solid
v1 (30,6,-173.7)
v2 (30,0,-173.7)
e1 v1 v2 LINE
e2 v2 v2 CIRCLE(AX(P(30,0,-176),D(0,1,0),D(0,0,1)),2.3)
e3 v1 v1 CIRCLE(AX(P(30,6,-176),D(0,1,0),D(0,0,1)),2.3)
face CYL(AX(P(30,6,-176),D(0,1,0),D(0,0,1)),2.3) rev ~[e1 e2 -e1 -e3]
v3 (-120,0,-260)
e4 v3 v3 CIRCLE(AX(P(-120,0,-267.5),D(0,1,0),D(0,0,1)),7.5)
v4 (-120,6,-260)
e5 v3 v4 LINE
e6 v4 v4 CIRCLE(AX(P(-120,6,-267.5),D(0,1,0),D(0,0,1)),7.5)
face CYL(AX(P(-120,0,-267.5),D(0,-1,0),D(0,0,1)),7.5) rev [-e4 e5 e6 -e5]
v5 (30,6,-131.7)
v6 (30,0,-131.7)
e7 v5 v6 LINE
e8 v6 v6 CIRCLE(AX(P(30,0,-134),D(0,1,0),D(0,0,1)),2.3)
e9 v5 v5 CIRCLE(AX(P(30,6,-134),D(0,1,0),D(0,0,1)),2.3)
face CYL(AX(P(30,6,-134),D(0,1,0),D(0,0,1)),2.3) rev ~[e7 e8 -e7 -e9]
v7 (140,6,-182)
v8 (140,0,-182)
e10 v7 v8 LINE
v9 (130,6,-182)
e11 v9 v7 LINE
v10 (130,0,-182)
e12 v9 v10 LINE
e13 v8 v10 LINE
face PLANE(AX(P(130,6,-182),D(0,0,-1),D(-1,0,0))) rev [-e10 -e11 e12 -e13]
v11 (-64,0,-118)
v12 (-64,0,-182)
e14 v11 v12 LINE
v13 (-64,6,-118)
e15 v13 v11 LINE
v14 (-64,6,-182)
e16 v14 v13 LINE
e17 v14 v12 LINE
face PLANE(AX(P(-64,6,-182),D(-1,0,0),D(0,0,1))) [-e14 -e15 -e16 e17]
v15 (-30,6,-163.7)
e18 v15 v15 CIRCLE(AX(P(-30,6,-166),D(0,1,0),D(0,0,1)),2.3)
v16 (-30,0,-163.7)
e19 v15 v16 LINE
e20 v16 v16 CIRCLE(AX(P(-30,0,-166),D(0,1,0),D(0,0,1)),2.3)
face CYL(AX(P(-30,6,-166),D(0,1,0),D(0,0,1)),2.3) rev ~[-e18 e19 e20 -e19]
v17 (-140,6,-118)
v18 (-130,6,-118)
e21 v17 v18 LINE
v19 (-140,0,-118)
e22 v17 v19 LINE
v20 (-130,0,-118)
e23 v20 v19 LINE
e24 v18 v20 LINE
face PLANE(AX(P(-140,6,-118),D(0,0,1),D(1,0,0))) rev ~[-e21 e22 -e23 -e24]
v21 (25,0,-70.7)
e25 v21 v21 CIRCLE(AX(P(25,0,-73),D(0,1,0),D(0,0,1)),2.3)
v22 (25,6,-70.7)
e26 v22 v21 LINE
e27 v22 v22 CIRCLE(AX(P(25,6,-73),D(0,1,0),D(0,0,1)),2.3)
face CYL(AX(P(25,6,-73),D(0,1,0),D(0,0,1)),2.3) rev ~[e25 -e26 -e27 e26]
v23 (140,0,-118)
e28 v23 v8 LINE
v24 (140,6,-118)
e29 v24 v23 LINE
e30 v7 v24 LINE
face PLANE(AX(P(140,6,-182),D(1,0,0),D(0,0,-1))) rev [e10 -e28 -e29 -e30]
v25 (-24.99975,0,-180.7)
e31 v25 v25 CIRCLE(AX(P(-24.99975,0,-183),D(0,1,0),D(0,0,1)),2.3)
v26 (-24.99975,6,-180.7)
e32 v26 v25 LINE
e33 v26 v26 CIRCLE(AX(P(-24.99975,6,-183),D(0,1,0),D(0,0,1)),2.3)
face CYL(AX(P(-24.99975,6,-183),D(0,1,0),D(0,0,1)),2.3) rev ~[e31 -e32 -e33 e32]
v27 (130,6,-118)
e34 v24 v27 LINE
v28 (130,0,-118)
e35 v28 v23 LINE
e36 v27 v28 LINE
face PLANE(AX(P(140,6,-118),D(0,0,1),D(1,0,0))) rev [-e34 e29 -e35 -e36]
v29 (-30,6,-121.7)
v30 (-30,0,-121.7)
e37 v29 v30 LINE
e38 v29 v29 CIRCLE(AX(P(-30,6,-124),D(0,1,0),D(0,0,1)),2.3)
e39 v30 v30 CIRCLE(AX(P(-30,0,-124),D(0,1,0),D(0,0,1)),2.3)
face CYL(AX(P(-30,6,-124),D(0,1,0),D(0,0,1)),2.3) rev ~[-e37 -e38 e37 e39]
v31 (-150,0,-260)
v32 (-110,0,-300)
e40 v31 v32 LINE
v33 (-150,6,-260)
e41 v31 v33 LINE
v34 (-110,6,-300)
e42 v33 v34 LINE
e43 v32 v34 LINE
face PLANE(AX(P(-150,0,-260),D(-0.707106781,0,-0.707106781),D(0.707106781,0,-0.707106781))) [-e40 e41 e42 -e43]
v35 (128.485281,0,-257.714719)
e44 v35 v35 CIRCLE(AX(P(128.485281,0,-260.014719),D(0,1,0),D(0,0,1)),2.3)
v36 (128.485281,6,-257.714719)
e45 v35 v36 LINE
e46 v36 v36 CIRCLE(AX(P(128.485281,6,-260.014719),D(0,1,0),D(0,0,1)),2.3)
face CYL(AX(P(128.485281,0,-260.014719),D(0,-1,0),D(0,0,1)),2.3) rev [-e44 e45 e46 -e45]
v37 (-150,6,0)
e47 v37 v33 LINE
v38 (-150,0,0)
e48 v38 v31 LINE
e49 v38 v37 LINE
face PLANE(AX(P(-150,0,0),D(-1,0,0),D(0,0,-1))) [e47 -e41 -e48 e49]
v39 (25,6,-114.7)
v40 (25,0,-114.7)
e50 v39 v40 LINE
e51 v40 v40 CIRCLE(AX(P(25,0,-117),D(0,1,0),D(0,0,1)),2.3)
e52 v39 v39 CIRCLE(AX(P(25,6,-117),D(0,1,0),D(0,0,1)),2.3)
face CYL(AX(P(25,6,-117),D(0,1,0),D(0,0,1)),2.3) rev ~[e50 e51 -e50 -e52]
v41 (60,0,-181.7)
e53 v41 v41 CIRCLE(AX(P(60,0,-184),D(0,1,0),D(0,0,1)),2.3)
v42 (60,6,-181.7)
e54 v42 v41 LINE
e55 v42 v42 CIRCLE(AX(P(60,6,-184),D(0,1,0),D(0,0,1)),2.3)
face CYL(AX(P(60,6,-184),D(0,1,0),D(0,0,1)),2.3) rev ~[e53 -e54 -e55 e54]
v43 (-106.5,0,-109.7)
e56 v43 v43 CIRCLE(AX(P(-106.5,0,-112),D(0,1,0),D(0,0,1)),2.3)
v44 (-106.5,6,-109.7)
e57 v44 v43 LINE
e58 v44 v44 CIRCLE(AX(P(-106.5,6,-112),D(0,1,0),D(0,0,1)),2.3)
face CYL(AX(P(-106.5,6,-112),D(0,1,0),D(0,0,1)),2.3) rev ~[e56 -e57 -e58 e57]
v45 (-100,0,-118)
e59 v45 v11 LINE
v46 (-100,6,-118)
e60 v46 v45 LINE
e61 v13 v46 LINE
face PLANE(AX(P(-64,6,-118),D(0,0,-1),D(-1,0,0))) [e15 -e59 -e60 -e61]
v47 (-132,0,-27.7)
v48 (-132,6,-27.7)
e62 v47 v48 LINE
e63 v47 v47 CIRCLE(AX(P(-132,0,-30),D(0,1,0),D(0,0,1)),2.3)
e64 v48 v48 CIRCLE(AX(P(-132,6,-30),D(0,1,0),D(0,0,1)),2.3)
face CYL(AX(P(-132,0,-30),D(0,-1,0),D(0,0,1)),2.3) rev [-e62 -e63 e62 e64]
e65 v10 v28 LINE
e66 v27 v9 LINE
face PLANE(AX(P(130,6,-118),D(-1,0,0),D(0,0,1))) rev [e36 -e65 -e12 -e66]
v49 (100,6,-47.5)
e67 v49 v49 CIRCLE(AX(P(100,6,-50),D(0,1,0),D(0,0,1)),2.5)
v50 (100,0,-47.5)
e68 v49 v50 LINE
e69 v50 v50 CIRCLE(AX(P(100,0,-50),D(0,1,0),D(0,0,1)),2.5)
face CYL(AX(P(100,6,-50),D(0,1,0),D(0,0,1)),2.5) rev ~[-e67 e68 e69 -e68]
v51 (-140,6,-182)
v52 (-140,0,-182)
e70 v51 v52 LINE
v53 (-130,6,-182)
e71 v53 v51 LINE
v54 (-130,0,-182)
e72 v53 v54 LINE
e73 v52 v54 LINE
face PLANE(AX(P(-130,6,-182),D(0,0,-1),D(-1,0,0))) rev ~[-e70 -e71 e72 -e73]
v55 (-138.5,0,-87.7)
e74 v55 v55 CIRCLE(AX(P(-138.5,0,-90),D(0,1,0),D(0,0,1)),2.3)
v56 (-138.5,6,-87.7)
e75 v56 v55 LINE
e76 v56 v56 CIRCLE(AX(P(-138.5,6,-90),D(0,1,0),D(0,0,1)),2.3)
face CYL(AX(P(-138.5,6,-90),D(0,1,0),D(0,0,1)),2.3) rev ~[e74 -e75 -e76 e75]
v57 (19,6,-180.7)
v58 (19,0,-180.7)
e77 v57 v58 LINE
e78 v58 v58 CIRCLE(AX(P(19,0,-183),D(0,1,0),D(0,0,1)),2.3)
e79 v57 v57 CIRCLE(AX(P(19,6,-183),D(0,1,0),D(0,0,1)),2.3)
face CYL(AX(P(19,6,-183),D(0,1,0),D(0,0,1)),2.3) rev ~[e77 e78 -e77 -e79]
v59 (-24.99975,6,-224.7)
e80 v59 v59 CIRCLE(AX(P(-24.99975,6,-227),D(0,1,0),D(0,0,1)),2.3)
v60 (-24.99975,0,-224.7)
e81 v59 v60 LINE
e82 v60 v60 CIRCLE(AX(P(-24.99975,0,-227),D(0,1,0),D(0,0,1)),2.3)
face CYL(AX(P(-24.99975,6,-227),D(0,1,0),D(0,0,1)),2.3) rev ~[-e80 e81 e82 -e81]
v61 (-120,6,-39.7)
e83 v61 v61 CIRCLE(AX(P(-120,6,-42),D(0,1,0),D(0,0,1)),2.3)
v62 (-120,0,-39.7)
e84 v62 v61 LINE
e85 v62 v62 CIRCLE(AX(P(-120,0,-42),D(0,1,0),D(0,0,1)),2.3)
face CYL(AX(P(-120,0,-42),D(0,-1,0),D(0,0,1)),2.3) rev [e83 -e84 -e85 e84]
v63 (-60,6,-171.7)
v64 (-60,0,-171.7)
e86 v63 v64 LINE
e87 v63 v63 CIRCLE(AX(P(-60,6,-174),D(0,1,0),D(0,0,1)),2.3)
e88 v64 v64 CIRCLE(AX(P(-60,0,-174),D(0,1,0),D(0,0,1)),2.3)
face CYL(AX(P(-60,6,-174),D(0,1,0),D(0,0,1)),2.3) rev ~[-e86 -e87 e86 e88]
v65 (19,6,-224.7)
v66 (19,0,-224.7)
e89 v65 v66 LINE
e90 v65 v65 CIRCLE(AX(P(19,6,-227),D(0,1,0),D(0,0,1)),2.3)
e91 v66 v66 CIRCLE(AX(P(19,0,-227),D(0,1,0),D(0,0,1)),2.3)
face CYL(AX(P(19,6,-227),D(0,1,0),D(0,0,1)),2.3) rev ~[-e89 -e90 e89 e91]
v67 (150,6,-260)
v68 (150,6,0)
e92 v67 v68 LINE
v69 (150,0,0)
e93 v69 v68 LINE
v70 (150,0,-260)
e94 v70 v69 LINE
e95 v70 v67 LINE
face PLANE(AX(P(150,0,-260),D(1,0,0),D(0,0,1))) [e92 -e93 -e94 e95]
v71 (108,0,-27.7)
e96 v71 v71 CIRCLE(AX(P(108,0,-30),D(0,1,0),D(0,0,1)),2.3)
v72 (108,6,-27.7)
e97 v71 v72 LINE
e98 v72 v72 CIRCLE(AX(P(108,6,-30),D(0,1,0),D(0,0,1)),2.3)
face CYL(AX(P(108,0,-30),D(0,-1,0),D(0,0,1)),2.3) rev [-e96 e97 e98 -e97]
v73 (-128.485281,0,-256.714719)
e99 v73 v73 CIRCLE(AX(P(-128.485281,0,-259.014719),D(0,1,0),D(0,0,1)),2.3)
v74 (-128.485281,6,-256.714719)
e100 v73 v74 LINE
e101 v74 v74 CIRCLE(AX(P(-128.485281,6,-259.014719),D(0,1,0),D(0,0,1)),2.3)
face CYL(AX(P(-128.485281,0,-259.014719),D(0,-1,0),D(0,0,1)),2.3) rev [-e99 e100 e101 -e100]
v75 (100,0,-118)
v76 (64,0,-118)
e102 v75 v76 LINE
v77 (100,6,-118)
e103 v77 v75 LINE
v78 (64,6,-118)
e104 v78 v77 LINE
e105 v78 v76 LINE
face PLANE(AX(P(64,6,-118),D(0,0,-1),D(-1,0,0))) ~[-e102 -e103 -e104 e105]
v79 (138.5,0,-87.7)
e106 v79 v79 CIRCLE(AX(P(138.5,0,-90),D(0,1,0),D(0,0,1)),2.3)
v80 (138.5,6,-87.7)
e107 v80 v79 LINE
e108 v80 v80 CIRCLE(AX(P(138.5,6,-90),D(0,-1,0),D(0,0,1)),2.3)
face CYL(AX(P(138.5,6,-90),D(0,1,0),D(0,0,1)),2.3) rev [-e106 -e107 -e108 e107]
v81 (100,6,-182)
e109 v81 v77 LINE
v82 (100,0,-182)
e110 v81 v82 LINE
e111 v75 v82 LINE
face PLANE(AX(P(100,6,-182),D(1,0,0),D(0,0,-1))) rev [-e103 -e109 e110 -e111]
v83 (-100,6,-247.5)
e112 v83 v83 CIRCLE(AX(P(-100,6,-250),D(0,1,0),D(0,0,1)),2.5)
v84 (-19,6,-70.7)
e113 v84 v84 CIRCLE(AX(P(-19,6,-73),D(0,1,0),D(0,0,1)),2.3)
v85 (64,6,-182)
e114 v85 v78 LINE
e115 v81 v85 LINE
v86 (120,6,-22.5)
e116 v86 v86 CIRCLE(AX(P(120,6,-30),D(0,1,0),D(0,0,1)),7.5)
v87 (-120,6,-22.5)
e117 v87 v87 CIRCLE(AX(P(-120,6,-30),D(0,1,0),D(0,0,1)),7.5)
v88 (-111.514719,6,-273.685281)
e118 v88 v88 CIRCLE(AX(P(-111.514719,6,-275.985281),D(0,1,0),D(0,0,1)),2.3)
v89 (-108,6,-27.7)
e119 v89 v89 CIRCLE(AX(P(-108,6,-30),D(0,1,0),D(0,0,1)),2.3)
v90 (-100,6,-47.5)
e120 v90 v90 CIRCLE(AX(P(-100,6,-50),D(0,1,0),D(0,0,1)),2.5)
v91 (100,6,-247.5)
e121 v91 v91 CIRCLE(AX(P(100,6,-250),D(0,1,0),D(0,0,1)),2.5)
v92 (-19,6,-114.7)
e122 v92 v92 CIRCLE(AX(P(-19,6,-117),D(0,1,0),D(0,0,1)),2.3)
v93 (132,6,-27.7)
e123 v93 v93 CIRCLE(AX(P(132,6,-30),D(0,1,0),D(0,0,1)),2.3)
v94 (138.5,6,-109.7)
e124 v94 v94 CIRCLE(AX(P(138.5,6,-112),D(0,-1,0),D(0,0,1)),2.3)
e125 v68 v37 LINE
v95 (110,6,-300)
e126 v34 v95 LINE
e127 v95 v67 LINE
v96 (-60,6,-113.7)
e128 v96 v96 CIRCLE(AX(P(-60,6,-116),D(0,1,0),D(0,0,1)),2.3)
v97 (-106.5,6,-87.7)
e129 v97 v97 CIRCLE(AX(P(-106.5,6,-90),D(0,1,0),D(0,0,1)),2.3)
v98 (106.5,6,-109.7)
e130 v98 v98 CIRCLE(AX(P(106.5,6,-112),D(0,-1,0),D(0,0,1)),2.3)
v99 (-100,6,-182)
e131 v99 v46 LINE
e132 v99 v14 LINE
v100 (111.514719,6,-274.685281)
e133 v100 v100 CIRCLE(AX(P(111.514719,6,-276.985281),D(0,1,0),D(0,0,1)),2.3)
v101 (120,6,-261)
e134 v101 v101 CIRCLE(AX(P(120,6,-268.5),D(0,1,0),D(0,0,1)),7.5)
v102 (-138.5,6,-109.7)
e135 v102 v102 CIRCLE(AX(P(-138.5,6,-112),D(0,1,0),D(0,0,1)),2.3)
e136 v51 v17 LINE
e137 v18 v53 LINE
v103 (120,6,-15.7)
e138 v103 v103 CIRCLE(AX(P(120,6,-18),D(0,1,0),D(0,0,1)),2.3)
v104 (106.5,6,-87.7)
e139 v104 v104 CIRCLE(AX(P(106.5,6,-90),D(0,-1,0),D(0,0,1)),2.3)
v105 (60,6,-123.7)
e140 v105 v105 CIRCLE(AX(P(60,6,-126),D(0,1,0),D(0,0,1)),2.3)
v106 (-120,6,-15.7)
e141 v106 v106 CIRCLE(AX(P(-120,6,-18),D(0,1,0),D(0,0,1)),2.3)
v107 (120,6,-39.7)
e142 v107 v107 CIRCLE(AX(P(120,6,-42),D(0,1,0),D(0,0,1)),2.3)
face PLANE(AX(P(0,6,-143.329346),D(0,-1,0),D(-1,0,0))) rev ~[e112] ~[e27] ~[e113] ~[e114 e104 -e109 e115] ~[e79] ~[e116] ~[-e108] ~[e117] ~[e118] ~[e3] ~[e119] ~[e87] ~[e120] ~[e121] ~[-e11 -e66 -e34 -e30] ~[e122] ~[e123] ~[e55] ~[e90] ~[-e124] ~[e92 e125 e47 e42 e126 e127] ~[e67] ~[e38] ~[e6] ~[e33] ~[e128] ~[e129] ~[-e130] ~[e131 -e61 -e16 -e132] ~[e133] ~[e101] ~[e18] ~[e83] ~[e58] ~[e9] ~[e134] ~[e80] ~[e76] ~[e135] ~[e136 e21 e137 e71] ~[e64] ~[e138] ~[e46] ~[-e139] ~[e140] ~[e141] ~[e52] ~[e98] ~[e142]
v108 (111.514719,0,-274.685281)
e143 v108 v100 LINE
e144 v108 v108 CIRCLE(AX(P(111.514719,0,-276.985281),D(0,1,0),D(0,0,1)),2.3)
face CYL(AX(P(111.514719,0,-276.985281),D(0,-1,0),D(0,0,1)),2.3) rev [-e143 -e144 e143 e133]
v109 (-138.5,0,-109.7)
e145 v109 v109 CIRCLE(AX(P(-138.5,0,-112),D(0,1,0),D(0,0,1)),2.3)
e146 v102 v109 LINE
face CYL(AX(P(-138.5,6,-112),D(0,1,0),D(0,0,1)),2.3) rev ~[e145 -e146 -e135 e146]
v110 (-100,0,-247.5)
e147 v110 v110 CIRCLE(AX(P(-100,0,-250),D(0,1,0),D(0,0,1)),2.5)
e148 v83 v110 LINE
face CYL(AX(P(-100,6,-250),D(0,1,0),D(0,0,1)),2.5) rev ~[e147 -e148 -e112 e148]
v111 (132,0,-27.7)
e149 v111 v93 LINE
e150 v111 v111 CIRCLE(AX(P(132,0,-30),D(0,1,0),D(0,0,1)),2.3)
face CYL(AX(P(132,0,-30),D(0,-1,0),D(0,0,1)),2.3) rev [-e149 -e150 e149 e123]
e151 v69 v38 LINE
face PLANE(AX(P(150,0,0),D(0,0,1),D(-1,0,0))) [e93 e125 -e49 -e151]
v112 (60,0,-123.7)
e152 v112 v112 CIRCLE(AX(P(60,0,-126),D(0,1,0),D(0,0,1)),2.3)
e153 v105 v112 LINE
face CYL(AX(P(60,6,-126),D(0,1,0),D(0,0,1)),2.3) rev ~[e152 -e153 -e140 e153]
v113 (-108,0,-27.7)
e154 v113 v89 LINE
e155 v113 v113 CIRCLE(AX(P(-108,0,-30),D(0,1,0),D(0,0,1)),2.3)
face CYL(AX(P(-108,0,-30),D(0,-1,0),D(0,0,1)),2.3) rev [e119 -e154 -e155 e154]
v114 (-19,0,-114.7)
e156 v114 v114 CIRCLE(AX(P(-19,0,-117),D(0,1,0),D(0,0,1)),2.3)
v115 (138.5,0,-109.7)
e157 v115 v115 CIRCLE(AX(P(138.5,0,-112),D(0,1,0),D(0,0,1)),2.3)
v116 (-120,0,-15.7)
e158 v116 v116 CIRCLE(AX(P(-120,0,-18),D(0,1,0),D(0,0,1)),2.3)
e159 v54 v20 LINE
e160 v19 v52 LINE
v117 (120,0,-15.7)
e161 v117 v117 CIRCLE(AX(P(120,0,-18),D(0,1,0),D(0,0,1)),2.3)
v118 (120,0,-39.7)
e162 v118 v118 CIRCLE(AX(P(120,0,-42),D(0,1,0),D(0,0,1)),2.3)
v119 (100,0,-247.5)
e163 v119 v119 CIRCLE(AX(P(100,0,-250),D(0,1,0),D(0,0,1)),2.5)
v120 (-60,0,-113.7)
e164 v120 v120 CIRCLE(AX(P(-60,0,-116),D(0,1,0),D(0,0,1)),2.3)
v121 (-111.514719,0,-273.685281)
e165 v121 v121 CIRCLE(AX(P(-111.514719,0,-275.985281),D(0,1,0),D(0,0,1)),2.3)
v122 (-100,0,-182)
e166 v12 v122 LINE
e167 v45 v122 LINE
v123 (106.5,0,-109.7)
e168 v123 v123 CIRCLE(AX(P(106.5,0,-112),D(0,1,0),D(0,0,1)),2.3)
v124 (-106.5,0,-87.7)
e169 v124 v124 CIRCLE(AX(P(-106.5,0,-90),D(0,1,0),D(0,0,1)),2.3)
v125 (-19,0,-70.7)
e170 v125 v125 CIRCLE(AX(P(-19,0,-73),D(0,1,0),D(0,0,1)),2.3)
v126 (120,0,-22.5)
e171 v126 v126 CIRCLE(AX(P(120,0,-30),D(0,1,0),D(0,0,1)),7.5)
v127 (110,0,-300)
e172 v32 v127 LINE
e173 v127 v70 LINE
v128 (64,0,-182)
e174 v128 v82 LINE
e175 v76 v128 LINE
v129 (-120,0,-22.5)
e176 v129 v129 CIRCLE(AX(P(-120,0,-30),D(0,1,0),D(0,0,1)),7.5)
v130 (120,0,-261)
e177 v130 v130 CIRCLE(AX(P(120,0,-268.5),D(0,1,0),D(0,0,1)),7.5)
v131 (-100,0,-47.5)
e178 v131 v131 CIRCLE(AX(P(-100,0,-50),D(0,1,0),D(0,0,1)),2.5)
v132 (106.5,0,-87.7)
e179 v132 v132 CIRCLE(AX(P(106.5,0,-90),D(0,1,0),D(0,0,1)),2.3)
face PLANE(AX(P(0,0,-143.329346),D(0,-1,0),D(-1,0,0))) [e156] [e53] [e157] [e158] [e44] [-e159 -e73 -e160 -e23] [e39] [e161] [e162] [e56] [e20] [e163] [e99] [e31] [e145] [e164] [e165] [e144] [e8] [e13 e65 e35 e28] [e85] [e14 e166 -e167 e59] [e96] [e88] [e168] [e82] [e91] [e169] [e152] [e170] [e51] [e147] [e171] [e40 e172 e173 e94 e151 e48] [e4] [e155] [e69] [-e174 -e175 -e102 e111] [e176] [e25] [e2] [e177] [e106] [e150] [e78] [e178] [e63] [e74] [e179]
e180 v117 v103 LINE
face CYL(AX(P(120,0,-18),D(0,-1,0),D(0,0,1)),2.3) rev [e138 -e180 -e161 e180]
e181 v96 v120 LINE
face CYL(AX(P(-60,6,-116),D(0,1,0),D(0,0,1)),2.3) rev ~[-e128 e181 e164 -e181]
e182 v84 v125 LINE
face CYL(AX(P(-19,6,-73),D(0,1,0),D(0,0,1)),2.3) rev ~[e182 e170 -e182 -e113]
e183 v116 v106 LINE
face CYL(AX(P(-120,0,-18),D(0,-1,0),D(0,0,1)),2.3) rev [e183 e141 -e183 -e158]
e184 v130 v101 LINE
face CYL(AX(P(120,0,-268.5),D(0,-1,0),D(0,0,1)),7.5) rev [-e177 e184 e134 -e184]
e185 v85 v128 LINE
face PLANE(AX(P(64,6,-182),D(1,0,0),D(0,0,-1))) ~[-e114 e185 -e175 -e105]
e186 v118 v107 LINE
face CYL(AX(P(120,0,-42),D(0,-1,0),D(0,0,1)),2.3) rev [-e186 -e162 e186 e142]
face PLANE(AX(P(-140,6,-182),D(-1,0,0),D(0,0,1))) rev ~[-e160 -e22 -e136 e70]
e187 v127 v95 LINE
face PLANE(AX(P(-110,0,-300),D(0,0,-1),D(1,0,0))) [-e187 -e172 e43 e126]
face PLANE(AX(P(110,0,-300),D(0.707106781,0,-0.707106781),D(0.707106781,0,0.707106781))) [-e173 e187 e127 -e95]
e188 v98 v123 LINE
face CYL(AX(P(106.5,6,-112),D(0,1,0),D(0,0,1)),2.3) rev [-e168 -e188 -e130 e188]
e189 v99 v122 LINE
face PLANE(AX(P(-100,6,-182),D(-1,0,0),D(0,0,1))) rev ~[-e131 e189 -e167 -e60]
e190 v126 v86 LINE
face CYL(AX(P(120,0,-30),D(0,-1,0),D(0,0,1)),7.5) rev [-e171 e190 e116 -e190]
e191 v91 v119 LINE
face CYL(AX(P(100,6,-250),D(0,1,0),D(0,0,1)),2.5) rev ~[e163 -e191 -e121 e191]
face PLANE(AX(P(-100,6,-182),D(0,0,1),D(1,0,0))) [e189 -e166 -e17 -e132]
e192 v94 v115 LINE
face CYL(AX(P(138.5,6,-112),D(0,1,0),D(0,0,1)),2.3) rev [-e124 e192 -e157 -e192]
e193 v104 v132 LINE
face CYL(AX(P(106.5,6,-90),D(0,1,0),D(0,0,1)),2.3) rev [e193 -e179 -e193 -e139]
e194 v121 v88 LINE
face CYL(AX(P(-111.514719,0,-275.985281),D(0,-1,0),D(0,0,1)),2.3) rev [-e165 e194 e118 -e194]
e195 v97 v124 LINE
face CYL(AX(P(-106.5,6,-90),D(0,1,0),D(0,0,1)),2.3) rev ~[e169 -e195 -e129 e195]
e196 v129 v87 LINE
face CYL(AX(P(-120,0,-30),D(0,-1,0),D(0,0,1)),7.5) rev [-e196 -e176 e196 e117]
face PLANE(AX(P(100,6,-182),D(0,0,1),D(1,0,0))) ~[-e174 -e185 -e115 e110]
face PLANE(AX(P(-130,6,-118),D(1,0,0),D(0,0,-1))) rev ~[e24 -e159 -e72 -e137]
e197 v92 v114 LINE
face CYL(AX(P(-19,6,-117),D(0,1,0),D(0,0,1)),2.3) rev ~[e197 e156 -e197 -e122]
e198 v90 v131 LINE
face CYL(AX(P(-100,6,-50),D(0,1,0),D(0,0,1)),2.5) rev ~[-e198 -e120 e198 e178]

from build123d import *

# Parameters (mm, degrees)
ESQUISSE1_R              = 7.5
ESQUISSE1_R_2            = 2.3
BOSS_EXTRU_1_DEPTH       = 6
ENL_V_MAT_EXTRU_9_DEPTH  = 10.5
ESQUISSE6_R              = 2.3
ENL_V_MAT_EXTRU_10_DEPTH = 50
ENL_V_MAT_EXTRU_11_DEPTH = 50
ESQUISSE9_R              = 2.5
ENL_V_MAT_EXTRU_12_DEPTH = 35
ESQUISSE3_R              = 2.3
ENL_V_MAT_EXTRU_13_DEPTH = 35
ESQUISSE10_R             = 2.3
ENL_V_MAT_EXTRU_14_DEPTH = 10


with BuildPart() as part:
    # Esquisse1 → Boss.-Extru.1 (new body)
    with BuildSketch(Plane(origin=(0, 0, 0), x_dir=(1, 0, 0), z_dir=(0, 1, 0))):
        Polygon((-150, 0), (-150, 260), (-110, 300), (110, 300), (150, 260), (150, 0), align=None)
        with Locations((-120, 30)):
            Circle(ESQUISSE1_R, mode=Mode.SUBTRACT)
        with Locations((-120, 267.5)):
            Circle(ESQUISSE1_R, mode=Mode.SUBTRACT)
        with Locations((120, 268.5)):
            Circle(ESQUISSE1_R, mode=Mode.SUBTRACT)
        with Locations((-111.514718626, 275.985281374)):
            Circle(ESQUISSE1_R_2, mode=Mode.SUBTRACT)
        with Locations((-128.485281374, 259.014718626)):
            Circle(ESQUISSE1_R_2, mode=Mode.SUBTRACT)
        with Locations((111.514718626, 276.985281374)):
            Circle(ESQUISSE1_R_2, mode=Mode.SUBTRACT)
        with Locations((128.485281374, 260.014718626)):
            Circle(ESQUISSE1_R_2, mode=Mode.SUBTRACT)
        with Locations((120, 30)):
            Circle(ESQUISSE1_R, mode=Mode.SUBTRACT)
        with Locations((120, 42)):
            Circle(ESQUISSE1_R_2, mode=Mode.SUBTRACT)
        with Locations((-120, 42)):
            Circle(ESQUISSE1_R_2, mode=Mode.SUBTRACT)
        with Locations((-120, 18)):
            Circle(ESQUISSE1_R_2, mode=Mode.SUBTRACT)
        with Locations((-132, 30)):
            Circle(ESQUISSE1_R_2, mode=Mode.SUBTRACT)
        with Locations((-108, 30)):
            Circle(ESQUISSE1_R_2, mode=Mode.SUBTRACT)
        with Locations((108, 30)):
            Circle(ESQUISSE1_R_2, mode=Mode.SUBTRACT)
        with Locations((132, 30)):
            Circle(ESQUISSE1_R_2, mode=Mode.SUBTRACT)
        with Locations((120, 18)):
            Circle(ESQUISSE1_R_2, mode=Mode.SUBTRACT)
    extrude(amount=BOSS_EXTRU_1_DEPTH)

    # Esquisse7 → Enlèv. mat.-Extru.9 (cut)
    with BuildSketch(Plane(origin=(0, 6, 0), x_dir=(1, 0, 0), z_dir=(0, 1, 0))):
        Polygon((-130, 150), (-130, 182), (-140, 182), (-140, 118), (-130, 118), align=None)
    enl_v_mat_extru_9 = extrude(amount=-ENL_V_MAT_EXTRU_9_DEPTH, mode=Mode.SUBTRACT)

    # Esquisse6 → Enlèv. mat.-Extru.10 (cut)
    with BuildSketch(Plane(origin=(0, 6, 0), x_dir=(1, 0, 0), z_dir=(0, 1, 0))):
        with Locations((-138.5, 90)):
            Circle(ESQUISSE6_R)
        with Locations((-138.5, 112)):
            Circle(ESQUISSE6_R)
        with Locations((-106.5, 112)):
            Circle(ESQUISSE6_R)
        with Locations((-106.5, 90)):
            Circle(ESQUISSE6_R)
    enl_v_mat_extru_10 = extrude(amount=-ENL_V_MAT_EXTRU_10_DEPTH, mode=Mode.SUBTRACT)

    # Esquisse4 → Enlèv. mat.-Extru.11 (cut)
    with BuildSketch(Plane(origin=(0, 6, 0), x_dir=(1, 0, 0), z_dir=(0, 1, 0))):
        Polygon((-100, 150), (-100, 182), (-64, 182), (-64, 118), (-100, 118), align=None)
    enl_v_mat_extru_11 = extrude(amount=-ENL_V_MAT_EXTRU_11_DEPTH, mode=Mode.SUBTRACT)

    # Symétrie1: Enlèv. mat.-Extru.9 across plane
    add(enl_v_mat_extru_9.mirror(Plane(origin=(0, 0, 0), x_dir=(0, 0, 1), z_dir=(1, 0, 0))), mode=Mode.SUBTRACT)

    # Symétrie2: Enlèv. mat.-Extru.11 across plane
    add(enl_v_mat_extru_11.mirror(Plane(origin=(0, 0, 0), x_dir=(0, 0, 1), z_dir=(1, 0, 0))), mode=Mode.SUBTRACT)

    # Symétrie3: Enlèv. mat.-Extru.10 across plane
    add(enl_v_mat_extru_10.mirror(Plane(origin=(0, 0, 0), x_dir=(0, 0, 1), z_dir=(1, 0, 0))), mode=Mode.SUBTRACT)

    # Esquisse9 → Enlèv. mat.-Extru.12 (cut)
    with BuildSketch(Plane(origin=(0, 6, 0), x_dir=(1, 0, 0), z_dir=(0, 1, 0))):
        with Locations((-100, 50)):
            Circle(ESQUISSE9_R)
        with Locations((100, 50)):
            Circle(ESQUISSE9_R)
        with Locations((100, 250)):
            Circle(ESQUISSE9_R)
        with Locations((-100, 250)):
            Circle(ESQUISSE9_R)
    extrude(amount=-ENL_V_MAT_EXTRU_12_DEPTH, mode=Mode.SUBTRACT)

    # Esquisse3 → Enlèv. mat.-Extru.13 (cut)
    with BuildSketch(Plane(origin=(0, 6, 0), x_dir=(1, 0, 0), z_dir=(0, 1, 0))):
        with Locations((-60, 174)):
            Circle(ESQUISSE3_R)
        with Locations((-60, 116)):
            Circle(ESQUISSE3_R)
        with Locations((-30, 166)):
            Circle(ESQUISSE3_R)
        with Locations((-30, 124)):
            Circle(ESQUISSE3_R)
        with Locations((60, 184)):
            Circle(ESQUISSE3_R)
        with Locations((30, 176)):
            Circle(ESQUISSE3_R)
        with Locations((30, 134)):
            Circle(ESQUISSE3_R)
        with Locations((60, 126)):
            Circle(ESQUISSE3_R)
    extrude(amount=-ENL_V_MAT_EXTRU_13_DEPTH, mode=Mode.SUBTRACT)

    # Esquisse10 → Enlèv. mat.-Extru.14 (cut)
    with BuildSketch(Plane(origin=(0, 6, 0), x_dir=(1, 0, 0), z_dir=(0, 1, 0))):
        with Locations((-19, 73)):
            Circle(ESQUISSE10_R)
        with Locations((-19, 117)):
            Circle(ESQUISSE10_R)
        with Locations((25, 73)):
            Circle(ESQUISSE10_R)
        with Locations((25, 117)):
            Circle(ESQUISSE10_R)
        with Locations((-24.999750468, 227)):
            Circle(ESQUISSE10_R)
        with Locations((-24.999750468, 183)):
            Circle(ESQUISSE10_R)
        with Locations((19, 183)):
            Circle(ESQUISSE10_R)
        with Locations((19, 227)):
            Circle(ESQUISSE10_R)
    extrude(amount=-ENL_V_MAT_EXTRU_14_DEPTH, mode=Mode.SUBTRACT)


solid = part.part
